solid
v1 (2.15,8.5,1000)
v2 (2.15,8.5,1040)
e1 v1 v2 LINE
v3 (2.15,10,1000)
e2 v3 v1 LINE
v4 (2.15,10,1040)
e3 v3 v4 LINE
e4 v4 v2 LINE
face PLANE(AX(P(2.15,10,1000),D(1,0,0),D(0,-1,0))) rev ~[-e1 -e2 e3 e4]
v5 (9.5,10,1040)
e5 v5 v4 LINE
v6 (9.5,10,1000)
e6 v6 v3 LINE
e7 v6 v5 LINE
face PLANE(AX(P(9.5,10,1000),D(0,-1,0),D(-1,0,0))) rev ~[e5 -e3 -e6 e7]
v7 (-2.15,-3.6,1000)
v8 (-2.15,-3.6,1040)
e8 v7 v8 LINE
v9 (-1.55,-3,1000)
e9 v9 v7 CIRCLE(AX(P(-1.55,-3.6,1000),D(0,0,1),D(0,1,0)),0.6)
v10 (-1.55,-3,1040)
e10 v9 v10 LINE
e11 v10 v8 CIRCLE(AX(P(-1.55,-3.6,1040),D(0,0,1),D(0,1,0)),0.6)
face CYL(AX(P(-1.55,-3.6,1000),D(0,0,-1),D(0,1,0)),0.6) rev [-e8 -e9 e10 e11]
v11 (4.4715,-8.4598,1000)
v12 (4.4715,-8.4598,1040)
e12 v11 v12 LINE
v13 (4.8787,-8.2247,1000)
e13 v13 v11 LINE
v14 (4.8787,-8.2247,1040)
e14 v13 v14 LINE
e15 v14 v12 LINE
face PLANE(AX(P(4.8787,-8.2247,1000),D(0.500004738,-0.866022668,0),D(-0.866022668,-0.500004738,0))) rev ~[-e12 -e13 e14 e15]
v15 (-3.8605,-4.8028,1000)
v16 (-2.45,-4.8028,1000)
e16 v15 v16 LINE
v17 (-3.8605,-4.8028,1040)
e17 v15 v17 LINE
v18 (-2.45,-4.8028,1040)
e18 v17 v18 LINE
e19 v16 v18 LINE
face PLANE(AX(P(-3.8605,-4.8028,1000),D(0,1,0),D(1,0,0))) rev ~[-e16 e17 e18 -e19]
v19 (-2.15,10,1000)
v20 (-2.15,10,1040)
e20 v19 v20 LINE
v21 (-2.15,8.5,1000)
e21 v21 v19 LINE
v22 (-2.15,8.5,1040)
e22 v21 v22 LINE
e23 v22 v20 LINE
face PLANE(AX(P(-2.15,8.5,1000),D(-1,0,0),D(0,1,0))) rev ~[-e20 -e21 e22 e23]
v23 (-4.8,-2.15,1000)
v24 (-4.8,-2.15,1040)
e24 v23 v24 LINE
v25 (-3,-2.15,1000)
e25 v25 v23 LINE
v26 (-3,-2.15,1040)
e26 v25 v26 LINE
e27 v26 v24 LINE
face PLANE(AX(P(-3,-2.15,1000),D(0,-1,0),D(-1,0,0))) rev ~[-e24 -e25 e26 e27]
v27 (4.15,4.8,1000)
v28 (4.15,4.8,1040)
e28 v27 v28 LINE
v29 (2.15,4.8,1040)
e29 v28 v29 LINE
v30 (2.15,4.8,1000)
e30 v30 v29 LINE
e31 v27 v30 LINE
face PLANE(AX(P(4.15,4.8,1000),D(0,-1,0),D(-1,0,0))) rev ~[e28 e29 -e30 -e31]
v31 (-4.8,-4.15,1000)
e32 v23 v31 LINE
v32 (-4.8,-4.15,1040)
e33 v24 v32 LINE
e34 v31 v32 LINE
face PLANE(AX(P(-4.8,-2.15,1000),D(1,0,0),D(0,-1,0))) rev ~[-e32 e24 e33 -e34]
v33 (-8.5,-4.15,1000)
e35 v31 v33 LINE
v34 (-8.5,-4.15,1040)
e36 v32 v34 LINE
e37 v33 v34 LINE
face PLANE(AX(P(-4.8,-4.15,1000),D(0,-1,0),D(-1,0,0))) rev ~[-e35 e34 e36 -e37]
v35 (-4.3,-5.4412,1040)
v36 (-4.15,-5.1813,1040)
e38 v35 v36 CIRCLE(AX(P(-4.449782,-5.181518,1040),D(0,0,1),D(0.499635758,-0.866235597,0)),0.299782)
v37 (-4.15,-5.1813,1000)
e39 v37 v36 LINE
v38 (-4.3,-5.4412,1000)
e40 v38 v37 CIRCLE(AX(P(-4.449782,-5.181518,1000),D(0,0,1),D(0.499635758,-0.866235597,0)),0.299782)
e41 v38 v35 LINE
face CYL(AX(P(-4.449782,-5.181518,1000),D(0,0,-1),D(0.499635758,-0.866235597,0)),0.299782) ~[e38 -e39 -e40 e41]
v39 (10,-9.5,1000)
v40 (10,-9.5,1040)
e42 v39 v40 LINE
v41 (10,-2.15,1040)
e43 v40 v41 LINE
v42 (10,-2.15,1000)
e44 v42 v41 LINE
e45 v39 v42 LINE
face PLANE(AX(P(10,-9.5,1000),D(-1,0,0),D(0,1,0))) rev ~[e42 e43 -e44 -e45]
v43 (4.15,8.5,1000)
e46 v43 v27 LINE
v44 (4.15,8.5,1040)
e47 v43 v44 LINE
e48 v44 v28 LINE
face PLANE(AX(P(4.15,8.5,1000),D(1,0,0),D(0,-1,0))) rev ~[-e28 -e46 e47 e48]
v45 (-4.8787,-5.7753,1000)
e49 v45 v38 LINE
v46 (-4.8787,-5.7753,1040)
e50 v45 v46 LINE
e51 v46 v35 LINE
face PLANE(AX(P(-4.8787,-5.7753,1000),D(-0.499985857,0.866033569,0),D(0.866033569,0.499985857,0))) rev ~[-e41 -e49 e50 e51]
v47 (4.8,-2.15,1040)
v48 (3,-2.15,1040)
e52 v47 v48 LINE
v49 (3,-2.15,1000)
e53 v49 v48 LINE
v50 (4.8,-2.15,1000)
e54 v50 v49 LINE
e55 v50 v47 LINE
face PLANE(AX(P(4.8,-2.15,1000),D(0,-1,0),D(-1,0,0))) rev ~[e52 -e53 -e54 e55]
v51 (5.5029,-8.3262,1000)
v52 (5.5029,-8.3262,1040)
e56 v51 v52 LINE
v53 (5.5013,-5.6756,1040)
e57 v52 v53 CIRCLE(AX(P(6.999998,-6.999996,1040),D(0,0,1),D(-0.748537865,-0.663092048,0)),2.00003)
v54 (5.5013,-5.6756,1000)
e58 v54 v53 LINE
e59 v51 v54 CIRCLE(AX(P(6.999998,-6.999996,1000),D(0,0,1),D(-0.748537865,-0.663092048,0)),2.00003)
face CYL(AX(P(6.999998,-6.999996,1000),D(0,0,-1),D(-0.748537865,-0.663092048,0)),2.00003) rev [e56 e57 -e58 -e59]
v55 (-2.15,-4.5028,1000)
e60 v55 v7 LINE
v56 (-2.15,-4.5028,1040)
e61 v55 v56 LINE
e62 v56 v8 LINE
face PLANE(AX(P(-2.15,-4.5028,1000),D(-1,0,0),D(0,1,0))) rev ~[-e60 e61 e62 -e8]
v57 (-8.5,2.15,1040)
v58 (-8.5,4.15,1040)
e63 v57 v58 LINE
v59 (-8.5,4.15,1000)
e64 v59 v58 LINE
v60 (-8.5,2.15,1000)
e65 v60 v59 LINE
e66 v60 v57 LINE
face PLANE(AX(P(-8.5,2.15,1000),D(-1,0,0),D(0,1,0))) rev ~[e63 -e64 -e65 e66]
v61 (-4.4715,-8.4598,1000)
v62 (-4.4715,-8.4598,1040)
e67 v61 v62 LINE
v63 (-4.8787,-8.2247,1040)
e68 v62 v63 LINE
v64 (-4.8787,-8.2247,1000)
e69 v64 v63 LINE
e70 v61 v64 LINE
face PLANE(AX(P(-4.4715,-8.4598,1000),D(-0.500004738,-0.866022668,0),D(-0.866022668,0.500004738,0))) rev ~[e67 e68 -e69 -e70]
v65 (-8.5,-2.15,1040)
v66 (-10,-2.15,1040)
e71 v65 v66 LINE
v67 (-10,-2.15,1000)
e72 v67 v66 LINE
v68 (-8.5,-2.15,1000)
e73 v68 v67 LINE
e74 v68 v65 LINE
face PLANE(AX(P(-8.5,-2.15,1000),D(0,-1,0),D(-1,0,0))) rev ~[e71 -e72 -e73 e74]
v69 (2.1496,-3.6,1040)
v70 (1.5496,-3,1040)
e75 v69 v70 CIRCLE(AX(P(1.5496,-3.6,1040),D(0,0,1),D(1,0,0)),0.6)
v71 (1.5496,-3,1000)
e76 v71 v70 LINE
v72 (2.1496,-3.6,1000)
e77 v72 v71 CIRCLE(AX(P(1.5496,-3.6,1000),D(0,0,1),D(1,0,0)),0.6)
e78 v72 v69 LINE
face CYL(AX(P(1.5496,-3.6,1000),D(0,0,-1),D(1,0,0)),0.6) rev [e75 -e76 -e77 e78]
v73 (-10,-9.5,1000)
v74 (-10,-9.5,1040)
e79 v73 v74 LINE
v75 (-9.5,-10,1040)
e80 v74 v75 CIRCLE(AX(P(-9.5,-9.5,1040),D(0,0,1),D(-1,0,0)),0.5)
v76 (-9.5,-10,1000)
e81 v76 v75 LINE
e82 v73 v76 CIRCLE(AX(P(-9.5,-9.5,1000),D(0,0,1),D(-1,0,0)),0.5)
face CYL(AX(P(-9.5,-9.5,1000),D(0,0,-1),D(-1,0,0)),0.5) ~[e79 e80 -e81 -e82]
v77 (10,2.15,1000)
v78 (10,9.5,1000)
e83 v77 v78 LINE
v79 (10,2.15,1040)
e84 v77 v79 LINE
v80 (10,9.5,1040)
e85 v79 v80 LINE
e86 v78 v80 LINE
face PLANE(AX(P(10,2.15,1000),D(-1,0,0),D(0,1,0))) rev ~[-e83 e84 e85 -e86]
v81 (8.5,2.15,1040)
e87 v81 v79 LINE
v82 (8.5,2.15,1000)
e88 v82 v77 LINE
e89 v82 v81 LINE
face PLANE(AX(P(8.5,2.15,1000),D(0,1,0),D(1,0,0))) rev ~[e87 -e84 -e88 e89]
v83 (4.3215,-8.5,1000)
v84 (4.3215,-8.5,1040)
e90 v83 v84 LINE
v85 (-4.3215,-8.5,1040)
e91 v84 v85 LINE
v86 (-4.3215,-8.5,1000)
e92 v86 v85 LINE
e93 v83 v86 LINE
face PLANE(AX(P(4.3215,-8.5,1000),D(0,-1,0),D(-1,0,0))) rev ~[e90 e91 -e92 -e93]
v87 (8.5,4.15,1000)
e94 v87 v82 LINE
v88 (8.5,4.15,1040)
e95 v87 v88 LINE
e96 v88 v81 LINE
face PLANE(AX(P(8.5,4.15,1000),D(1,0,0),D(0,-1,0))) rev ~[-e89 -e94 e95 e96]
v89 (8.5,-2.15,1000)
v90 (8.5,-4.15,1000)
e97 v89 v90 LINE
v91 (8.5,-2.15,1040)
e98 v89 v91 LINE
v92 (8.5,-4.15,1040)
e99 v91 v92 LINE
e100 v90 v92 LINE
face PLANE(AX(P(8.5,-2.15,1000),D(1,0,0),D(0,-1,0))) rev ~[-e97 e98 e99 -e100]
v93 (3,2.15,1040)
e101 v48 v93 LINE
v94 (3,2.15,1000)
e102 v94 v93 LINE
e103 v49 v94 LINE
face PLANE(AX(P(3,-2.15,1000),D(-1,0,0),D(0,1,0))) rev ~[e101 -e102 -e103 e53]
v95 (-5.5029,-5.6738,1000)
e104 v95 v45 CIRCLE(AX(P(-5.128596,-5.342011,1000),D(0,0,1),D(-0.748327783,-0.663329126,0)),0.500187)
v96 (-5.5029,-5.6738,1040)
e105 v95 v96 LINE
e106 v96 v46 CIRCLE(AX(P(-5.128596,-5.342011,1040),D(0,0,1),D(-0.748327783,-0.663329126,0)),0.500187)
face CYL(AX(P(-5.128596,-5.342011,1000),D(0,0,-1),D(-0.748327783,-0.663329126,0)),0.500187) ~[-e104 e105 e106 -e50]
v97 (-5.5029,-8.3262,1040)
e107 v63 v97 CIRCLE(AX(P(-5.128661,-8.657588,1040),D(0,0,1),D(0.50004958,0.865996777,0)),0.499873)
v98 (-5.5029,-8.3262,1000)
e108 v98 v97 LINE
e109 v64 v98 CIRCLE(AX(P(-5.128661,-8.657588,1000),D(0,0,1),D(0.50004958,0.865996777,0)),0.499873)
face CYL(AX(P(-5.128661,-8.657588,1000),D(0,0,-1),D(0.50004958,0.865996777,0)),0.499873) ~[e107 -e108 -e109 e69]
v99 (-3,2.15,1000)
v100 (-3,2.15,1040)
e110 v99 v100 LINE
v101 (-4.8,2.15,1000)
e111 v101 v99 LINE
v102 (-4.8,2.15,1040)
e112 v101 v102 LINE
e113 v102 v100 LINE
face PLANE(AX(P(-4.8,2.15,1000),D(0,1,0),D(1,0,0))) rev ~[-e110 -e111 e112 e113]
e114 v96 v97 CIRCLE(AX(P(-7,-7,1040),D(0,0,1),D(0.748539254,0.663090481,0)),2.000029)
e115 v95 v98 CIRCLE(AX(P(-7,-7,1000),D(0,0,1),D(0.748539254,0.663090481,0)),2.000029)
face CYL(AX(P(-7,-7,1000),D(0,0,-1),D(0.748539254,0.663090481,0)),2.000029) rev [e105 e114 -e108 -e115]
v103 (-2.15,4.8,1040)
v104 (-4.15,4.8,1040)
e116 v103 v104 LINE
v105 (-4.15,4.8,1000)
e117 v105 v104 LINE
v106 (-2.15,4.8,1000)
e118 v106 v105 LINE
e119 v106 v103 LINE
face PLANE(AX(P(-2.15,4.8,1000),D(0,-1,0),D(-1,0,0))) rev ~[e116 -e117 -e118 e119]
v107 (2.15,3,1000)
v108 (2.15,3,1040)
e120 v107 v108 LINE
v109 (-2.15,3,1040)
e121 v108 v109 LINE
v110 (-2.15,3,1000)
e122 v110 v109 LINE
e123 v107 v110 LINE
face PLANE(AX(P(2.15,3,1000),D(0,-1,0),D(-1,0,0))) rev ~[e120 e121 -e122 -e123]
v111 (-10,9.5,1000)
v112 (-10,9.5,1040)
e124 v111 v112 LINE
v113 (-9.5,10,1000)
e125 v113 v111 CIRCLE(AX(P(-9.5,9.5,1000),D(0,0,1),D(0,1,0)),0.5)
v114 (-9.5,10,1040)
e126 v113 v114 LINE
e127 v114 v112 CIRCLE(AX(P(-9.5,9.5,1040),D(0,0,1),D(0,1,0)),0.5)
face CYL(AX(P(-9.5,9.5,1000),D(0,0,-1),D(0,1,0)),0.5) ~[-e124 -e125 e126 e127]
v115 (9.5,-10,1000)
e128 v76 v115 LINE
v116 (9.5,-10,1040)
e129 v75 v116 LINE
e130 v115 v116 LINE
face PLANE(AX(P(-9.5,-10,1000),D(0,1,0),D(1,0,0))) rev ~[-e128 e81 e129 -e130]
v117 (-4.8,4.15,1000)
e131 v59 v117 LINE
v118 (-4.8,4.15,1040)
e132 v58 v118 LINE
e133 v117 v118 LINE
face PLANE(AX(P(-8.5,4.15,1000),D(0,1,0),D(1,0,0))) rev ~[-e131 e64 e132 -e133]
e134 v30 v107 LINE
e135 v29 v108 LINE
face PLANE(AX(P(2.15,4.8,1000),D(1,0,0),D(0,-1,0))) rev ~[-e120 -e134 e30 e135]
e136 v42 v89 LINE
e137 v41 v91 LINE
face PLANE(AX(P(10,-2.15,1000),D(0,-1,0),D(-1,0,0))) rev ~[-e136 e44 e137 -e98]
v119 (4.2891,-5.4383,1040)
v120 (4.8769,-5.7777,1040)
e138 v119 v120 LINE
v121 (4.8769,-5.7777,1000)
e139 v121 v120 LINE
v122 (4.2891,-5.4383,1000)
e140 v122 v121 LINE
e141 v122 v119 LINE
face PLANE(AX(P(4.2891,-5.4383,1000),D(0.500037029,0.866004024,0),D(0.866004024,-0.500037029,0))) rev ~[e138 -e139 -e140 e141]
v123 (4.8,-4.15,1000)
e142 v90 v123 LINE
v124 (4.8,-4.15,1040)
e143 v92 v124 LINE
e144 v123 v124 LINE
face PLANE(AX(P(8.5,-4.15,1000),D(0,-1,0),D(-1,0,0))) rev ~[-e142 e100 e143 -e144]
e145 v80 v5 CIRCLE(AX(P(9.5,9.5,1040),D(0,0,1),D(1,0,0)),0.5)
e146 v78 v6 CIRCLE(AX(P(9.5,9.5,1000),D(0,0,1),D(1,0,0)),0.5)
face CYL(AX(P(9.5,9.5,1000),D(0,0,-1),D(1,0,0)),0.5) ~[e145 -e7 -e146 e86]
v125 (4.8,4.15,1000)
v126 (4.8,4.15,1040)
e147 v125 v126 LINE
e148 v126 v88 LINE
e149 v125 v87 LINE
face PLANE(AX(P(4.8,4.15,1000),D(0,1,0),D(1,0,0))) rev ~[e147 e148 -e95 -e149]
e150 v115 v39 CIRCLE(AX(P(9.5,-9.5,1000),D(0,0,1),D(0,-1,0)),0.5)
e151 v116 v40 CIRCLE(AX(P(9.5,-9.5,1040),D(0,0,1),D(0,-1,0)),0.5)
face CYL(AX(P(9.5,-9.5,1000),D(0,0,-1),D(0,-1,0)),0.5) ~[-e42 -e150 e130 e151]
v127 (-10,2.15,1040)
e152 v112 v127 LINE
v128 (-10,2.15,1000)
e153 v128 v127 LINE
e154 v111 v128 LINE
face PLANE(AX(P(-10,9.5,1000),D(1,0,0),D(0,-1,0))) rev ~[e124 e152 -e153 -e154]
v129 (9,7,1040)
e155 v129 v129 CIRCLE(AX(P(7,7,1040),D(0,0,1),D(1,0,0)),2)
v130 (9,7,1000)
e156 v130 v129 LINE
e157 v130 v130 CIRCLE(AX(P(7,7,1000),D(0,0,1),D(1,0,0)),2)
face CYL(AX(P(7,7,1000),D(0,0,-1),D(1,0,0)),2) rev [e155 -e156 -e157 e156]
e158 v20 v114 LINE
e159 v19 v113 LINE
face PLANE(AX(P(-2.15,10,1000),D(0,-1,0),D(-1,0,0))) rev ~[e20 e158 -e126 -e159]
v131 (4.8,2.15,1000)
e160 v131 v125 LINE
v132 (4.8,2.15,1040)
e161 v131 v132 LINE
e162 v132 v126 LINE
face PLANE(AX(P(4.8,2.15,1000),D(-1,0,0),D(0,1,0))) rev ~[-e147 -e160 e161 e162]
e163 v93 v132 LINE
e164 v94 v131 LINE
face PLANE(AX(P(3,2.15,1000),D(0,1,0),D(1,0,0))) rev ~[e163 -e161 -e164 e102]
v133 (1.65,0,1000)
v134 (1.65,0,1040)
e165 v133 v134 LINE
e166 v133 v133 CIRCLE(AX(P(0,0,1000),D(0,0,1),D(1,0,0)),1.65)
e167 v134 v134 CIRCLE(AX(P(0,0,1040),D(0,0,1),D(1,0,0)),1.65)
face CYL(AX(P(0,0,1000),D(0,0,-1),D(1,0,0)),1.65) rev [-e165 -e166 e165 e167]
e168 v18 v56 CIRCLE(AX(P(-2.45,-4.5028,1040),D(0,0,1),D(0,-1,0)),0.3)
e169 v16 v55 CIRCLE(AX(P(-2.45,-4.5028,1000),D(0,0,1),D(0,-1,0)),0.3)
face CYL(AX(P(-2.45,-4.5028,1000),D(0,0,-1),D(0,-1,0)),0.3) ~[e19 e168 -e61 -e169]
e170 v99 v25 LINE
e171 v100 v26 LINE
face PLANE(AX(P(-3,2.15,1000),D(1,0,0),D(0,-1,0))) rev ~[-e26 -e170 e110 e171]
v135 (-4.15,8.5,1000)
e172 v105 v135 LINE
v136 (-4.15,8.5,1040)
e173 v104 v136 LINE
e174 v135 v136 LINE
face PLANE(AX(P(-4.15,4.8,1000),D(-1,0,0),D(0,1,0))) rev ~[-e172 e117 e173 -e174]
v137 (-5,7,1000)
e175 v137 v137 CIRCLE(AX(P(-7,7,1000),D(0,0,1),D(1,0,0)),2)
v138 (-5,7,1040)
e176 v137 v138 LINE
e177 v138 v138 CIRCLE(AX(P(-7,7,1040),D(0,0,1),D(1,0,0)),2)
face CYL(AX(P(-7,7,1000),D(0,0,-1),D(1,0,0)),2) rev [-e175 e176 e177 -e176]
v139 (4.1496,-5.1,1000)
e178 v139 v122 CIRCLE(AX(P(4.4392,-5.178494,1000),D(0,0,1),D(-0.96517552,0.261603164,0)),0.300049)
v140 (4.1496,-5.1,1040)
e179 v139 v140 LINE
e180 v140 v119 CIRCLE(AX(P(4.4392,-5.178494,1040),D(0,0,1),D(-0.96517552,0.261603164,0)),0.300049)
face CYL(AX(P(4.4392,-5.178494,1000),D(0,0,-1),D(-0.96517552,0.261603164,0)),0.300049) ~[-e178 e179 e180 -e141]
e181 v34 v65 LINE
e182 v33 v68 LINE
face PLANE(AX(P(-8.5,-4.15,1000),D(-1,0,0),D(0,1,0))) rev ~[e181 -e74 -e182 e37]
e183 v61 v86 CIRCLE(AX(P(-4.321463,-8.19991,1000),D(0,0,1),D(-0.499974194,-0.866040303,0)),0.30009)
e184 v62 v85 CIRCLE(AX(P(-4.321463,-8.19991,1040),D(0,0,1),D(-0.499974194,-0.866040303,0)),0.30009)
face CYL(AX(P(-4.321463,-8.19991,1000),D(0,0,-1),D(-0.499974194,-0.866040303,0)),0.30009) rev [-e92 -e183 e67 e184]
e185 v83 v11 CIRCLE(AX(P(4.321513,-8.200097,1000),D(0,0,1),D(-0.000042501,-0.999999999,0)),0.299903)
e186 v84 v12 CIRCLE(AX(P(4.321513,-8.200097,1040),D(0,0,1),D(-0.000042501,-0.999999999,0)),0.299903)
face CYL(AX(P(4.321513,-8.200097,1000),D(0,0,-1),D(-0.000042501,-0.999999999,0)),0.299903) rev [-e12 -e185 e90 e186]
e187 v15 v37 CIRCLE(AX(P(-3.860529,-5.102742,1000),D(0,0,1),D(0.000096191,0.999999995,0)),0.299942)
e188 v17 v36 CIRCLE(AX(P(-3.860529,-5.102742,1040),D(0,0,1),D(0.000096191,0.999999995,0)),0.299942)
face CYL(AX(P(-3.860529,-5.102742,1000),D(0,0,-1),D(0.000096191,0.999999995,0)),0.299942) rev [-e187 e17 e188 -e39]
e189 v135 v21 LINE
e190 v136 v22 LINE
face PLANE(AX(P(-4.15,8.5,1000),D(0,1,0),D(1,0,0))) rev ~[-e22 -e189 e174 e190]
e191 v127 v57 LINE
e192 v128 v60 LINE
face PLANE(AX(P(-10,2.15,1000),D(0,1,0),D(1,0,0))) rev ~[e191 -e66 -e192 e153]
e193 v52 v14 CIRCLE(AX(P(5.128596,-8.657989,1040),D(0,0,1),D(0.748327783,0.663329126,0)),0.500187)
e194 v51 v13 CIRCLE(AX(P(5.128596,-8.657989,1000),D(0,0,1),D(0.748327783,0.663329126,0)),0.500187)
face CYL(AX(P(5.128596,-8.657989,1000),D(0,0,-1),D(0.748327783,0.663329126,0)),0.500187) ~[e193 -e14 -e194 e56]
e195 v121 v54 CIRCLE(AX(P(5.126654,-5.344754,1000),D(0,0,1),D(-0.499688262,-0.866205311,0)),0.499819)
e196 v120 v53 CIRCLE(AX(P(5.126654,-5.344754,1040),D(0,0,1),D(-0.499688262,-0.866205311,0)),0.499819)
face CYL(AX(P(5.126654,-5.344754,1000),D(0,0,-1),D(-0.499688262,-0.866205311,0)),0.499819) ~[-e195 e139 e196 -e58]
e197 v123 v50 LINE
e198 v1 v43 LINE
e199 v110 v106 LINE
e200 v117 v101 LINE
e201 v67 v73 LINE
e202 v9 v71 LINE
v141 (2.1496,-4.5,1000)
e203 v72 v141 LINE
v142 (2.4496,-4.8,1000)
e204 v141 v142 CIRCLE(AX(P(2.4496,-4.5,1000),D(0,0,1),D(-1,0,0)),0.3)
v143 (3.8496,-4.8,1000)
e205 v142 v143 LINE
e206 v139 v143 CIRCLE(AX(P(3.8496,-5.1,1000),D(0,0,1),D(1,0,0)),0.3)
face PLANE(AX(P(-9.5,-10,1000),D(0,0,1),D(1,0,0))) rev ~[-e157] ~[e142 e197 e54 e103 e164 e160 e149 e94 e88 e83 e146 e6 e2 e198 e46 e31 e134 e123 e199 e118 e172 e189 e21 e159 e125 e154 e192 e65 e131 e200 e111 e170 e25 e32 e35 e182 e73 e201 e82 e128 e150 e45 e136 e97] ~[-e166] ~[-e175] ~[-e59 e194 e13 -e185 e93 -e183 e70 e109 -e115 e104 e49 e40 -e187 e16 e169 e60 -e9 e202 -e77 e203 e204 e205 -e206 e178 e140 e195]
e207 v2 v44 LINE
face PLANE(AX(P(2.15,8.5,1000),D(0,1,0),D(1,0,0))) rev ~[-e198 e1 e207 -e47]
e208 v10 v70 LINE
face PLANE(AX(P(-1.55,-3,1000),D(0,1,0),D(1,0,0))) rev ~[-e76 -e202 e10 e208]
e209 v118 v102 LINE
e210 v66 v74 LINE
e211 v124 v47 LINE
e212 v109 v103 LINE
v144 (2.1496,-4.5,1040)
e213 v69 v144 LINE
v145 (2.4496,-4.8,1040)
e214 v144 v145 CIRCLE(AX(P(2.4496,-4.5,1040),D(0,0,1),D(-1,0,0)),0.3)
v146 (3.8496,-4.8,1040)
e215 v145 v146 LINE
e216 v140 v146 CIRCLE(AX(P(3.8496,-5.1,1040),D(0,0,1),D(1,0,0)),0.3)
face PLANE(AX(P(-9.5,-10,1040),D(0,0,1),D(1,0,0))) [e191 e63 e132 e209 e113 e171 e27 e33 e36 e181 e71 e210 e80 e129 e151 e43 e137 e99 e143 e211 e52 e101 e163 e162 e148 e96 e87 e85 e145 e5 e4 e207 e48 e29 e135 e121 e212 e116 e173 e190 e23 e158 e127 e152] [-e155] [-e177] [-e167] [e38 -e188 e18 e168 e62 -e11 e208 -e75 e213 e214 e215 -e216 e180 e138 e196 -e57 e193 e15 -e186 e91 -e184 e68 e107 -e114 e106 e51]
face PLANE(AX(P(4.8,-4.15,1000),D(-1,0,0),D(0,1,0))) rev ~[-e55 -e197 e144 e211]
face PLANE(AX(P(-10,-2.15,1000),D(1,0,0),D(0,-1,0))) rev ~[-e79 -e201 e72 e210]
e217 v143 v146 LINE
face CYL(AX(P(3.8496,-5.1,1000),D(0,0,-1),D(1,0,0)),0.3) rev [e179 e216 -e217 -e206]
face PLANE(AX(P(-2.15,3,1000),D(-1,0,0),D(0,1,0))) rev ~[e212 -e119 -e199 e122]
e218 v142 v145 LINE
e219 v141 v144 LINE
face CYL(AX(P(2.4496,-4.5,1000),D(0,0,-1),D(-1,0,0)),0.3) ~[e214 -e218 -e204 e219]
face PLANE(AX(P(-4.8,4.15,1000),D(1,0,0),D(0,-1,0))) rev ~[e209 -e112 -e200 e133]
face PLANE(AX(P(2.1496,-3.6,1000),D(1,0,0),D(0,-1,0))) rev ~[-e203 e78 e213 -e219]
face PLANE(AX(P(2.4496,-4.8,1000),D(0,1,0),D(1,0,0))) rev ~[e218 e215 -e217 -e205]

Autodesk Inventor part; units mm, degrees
ref_plane "YZ Plane" through (0, 0, 0) normal (1, 0, 0) x (0, 1, 0)
ref_plane "XZ Plane" through (0, 0, 0) normal (0, 1, 0) x (-1, 0, 0)
ref_plane "作業平面1" through (-9.5, -10, 1000) normal (0, 0, 1) x (1, 0, 0)
sketch "スケッチ1" plane through (-9.5, -10, 1000) normal (0, 0, 1) x (1, 0, 0)
  line L0 (7.35, 18.5) -> (7.35, 20) projected
  line L1 (7.35, 20) -> (0, 20) projected
  arc A0 (0, 20) -> (-0.5, 19.5) centre (0, 19.5) ccw projected
  line L2 (-0.5, 19.5) -> (-0.5, 12.15) projected
  line L3 (-0.5, 12.15) -> (1, 12.15) projected
  line L4 (1, 12.15) -> (1, 14.15) projected
  line L5 (1, 14.15) -> (4.7, 14.15) projected
  line L6 (4.7, 14.15) -> (4.7, 12.15) projected
  line L7 (4.7, 12.15) -> (6.5, 12.15) projected
  line L8 (6.5, 12.15) -> (6.5, 7.85) projected
  line L9 (6.5, 7.85) -> (4.7, 7.85) projected
  line L10 (4.7, 7.85) -> (4.7, 5.85) projected
  line L11 (4.7, 5.85) -> (1, 5.85) projected
  line L12 (1, 5.85) -> (1, 7.85) projected
  line L13 (1, 7.85) -> (-0.5, 7.85) projected
  line L14 (-0.5, 7.85) -> (-0.5, 0.5) projected
  arc A1 (-0.5, 0.5) -> (0, 0) centre (0, 0.5) ccw projected
  line L15 (0, 0) -> (19, 0) projected
  arc A2 (19, 0) -> (19.5, 0.5) centre (19, 0.5) ccw projected
  line L16 (19.5, 0.5) -> (19.5, 7.85) projected
  line L17 (19.5, 7.85) -> (18, 7.85) projected
  line L18 (18, 7.85) -> (18, 5.85) projected
  line L19 (18, 5.85) -> (14.3, 5.85) projected
  line L20 (14.3, 5.85) -> (14.3, 7.85) projected
  line L21 (14.3, 7.85) -> (12.5, 7.85) projected
  line L22 (12.5, 7.85) -> (12.5, 12.15) projected
  line L23 (12.5, 12.15) -> (14.3, 12.15) projected
  line L24 (14.3, 12.15) -> (14.3, 14.15) projected
  line L25 (14.3, 14.15) -> (18, 14.15) projected
  line L26 (18, 14.15) -> (18, 12.15) projected
  line L27 (18, 12.15) -> (19.5, 12.15) projected
  line L28 (19.5, 12.15) -> (19.5, 19.5) projected
  arc A3 (19.5, 19.5) -> (19, 20) centre (19, 19.5) ccw projected
  line L29 (19, 20) -> (11.65, 20) projected
  line L30 (11.65, 20) -> (11.65, 18.5) projected
  line L31 (11.65, 18.5) -> (13.65, 18.5) projected
  line L32 (13.65, 18.5) -> (13.65, 14.8) projected
  line L33 (13.65, 14.8) -> (11.65, 14.8) projected
  line L34 (11.65, 14.8) -> (11.65, 13) projected
  line L35 (11.65, 13) -> (7.35, 13) projected
  line L36 (7.35, 13) -> (7.35, 14.8) projected
  line L37 (7.35, 14.8) -> (5.35, 14.8) projected
  line L38 (5.35, 14.8) -> (5.35, 18.5) projected
  line L39 (5.35, 18.5) -> (7.35, 18.5) projected
  arc A4 (11.6496, 6.4) -> (11.0496, 7) centre (11.0496, 6.4) ccw projected
  line L40 (11.6496, 6.4) -> (11.6496, 5.5) projected
  arc A5 (11.6496, 5.5) -> (11.9496, 5.2) centre (11.9496, 5.5) ccw projected
  line L41 (11.9496, 5.2) -> (13.3496, 5.2) projected
  arc A6 (13.6496, 4.9) -> (13.3496, 5.2) centre (13.3496, 4.9) ccw projected
  arc A7 (13.6496, 4.9) -> (13.7891, 4.5617) centre (13.9391, 4.8215) ccw projected
  line L42 (13.7891, 4.5617) -> (14.3769, 4.2223) projected
  arc A8 (14.3769, 4.2223) -> (15.0013, 4.3244) centre (14.6267, 4.6555) ccw projected
  arc A9 (15.0029, 1.6738) -> (15.0013, 4.3244) centre (16.5, 3) ccw projected
  arc A10 (15.0029, 1.6738) -> (14.3787, 1.7753) centre (14.6287, 1.3422) ccw projected
  line L43 (14.3787, 1.7753) -> (13.9715, 1.5402) projected
  arc A11 (13.8215, 1.5) -> (13.9715, 1.5402) centre (13.8215, 1.8) ccw projected
  line L44 (13.8215, 1.5) -> (5.1785, 1.5) projected
  arc A12 (5.0285, 1.5402) -> (5.1785, 1.5) centre (5.1785, 1.8) ccw projected
  line L45 (5.0285, 1.5402) -> (4.6213, 1.7753) projected
  arc A13 (4.6213, 1.7753) -> (3.9971, 1.6738) centre (4.3713, 1.3422) ccw projected
  arc A14 (3.9971, 4.3262) -> (3.9971, 1.6738) centre (2.5, 3) ccw projected
  arc A15 (3.9971, 4.3262) -> (4.6213, 4.2247) centre (4.3713, 4.6578) ccw projected
  line L46 (4.6213, 4.2247) -> (5.2, 4.5588) projected
  arc A16 (5.2, 4.5588) -> (5.35, 4.8187) centre (5.05, 4.8187) ccw projected
  arc A17 (5.6395, 5.1972) -> (5.35, 4.8187) centre (5.6395, 4.8972) ccw projected
  line L47 (5.6395, 5.1972) -> (7.05, 5.1972) projected
  arc A18 (7.05, 5.1972) -> (7.35, 5.4972) centre (7.05, 5.4972) ccw projected
  line L48 (7.35, 5.4972) -> (7.35, 6.4) projected
  arc A19 (7.95, 7) -> (7.35, 6.4) centre (7.95, 6.4) ccw projected
  line L49 (7.95, 7) -> (11.0496, 7) projected
  circle A20 centre (2.5, 17) radius 2 projected
  circle A21 centre (16.5, 17) radius 2 projected
  circle A22 centre (9.5, 10) radius 1.65 projected
  point P0 (9.5, 10)
extrude "押し出し1" add sketch "スケッチ1" along normal blind 40
properties part number "AFSF-2020-4"
